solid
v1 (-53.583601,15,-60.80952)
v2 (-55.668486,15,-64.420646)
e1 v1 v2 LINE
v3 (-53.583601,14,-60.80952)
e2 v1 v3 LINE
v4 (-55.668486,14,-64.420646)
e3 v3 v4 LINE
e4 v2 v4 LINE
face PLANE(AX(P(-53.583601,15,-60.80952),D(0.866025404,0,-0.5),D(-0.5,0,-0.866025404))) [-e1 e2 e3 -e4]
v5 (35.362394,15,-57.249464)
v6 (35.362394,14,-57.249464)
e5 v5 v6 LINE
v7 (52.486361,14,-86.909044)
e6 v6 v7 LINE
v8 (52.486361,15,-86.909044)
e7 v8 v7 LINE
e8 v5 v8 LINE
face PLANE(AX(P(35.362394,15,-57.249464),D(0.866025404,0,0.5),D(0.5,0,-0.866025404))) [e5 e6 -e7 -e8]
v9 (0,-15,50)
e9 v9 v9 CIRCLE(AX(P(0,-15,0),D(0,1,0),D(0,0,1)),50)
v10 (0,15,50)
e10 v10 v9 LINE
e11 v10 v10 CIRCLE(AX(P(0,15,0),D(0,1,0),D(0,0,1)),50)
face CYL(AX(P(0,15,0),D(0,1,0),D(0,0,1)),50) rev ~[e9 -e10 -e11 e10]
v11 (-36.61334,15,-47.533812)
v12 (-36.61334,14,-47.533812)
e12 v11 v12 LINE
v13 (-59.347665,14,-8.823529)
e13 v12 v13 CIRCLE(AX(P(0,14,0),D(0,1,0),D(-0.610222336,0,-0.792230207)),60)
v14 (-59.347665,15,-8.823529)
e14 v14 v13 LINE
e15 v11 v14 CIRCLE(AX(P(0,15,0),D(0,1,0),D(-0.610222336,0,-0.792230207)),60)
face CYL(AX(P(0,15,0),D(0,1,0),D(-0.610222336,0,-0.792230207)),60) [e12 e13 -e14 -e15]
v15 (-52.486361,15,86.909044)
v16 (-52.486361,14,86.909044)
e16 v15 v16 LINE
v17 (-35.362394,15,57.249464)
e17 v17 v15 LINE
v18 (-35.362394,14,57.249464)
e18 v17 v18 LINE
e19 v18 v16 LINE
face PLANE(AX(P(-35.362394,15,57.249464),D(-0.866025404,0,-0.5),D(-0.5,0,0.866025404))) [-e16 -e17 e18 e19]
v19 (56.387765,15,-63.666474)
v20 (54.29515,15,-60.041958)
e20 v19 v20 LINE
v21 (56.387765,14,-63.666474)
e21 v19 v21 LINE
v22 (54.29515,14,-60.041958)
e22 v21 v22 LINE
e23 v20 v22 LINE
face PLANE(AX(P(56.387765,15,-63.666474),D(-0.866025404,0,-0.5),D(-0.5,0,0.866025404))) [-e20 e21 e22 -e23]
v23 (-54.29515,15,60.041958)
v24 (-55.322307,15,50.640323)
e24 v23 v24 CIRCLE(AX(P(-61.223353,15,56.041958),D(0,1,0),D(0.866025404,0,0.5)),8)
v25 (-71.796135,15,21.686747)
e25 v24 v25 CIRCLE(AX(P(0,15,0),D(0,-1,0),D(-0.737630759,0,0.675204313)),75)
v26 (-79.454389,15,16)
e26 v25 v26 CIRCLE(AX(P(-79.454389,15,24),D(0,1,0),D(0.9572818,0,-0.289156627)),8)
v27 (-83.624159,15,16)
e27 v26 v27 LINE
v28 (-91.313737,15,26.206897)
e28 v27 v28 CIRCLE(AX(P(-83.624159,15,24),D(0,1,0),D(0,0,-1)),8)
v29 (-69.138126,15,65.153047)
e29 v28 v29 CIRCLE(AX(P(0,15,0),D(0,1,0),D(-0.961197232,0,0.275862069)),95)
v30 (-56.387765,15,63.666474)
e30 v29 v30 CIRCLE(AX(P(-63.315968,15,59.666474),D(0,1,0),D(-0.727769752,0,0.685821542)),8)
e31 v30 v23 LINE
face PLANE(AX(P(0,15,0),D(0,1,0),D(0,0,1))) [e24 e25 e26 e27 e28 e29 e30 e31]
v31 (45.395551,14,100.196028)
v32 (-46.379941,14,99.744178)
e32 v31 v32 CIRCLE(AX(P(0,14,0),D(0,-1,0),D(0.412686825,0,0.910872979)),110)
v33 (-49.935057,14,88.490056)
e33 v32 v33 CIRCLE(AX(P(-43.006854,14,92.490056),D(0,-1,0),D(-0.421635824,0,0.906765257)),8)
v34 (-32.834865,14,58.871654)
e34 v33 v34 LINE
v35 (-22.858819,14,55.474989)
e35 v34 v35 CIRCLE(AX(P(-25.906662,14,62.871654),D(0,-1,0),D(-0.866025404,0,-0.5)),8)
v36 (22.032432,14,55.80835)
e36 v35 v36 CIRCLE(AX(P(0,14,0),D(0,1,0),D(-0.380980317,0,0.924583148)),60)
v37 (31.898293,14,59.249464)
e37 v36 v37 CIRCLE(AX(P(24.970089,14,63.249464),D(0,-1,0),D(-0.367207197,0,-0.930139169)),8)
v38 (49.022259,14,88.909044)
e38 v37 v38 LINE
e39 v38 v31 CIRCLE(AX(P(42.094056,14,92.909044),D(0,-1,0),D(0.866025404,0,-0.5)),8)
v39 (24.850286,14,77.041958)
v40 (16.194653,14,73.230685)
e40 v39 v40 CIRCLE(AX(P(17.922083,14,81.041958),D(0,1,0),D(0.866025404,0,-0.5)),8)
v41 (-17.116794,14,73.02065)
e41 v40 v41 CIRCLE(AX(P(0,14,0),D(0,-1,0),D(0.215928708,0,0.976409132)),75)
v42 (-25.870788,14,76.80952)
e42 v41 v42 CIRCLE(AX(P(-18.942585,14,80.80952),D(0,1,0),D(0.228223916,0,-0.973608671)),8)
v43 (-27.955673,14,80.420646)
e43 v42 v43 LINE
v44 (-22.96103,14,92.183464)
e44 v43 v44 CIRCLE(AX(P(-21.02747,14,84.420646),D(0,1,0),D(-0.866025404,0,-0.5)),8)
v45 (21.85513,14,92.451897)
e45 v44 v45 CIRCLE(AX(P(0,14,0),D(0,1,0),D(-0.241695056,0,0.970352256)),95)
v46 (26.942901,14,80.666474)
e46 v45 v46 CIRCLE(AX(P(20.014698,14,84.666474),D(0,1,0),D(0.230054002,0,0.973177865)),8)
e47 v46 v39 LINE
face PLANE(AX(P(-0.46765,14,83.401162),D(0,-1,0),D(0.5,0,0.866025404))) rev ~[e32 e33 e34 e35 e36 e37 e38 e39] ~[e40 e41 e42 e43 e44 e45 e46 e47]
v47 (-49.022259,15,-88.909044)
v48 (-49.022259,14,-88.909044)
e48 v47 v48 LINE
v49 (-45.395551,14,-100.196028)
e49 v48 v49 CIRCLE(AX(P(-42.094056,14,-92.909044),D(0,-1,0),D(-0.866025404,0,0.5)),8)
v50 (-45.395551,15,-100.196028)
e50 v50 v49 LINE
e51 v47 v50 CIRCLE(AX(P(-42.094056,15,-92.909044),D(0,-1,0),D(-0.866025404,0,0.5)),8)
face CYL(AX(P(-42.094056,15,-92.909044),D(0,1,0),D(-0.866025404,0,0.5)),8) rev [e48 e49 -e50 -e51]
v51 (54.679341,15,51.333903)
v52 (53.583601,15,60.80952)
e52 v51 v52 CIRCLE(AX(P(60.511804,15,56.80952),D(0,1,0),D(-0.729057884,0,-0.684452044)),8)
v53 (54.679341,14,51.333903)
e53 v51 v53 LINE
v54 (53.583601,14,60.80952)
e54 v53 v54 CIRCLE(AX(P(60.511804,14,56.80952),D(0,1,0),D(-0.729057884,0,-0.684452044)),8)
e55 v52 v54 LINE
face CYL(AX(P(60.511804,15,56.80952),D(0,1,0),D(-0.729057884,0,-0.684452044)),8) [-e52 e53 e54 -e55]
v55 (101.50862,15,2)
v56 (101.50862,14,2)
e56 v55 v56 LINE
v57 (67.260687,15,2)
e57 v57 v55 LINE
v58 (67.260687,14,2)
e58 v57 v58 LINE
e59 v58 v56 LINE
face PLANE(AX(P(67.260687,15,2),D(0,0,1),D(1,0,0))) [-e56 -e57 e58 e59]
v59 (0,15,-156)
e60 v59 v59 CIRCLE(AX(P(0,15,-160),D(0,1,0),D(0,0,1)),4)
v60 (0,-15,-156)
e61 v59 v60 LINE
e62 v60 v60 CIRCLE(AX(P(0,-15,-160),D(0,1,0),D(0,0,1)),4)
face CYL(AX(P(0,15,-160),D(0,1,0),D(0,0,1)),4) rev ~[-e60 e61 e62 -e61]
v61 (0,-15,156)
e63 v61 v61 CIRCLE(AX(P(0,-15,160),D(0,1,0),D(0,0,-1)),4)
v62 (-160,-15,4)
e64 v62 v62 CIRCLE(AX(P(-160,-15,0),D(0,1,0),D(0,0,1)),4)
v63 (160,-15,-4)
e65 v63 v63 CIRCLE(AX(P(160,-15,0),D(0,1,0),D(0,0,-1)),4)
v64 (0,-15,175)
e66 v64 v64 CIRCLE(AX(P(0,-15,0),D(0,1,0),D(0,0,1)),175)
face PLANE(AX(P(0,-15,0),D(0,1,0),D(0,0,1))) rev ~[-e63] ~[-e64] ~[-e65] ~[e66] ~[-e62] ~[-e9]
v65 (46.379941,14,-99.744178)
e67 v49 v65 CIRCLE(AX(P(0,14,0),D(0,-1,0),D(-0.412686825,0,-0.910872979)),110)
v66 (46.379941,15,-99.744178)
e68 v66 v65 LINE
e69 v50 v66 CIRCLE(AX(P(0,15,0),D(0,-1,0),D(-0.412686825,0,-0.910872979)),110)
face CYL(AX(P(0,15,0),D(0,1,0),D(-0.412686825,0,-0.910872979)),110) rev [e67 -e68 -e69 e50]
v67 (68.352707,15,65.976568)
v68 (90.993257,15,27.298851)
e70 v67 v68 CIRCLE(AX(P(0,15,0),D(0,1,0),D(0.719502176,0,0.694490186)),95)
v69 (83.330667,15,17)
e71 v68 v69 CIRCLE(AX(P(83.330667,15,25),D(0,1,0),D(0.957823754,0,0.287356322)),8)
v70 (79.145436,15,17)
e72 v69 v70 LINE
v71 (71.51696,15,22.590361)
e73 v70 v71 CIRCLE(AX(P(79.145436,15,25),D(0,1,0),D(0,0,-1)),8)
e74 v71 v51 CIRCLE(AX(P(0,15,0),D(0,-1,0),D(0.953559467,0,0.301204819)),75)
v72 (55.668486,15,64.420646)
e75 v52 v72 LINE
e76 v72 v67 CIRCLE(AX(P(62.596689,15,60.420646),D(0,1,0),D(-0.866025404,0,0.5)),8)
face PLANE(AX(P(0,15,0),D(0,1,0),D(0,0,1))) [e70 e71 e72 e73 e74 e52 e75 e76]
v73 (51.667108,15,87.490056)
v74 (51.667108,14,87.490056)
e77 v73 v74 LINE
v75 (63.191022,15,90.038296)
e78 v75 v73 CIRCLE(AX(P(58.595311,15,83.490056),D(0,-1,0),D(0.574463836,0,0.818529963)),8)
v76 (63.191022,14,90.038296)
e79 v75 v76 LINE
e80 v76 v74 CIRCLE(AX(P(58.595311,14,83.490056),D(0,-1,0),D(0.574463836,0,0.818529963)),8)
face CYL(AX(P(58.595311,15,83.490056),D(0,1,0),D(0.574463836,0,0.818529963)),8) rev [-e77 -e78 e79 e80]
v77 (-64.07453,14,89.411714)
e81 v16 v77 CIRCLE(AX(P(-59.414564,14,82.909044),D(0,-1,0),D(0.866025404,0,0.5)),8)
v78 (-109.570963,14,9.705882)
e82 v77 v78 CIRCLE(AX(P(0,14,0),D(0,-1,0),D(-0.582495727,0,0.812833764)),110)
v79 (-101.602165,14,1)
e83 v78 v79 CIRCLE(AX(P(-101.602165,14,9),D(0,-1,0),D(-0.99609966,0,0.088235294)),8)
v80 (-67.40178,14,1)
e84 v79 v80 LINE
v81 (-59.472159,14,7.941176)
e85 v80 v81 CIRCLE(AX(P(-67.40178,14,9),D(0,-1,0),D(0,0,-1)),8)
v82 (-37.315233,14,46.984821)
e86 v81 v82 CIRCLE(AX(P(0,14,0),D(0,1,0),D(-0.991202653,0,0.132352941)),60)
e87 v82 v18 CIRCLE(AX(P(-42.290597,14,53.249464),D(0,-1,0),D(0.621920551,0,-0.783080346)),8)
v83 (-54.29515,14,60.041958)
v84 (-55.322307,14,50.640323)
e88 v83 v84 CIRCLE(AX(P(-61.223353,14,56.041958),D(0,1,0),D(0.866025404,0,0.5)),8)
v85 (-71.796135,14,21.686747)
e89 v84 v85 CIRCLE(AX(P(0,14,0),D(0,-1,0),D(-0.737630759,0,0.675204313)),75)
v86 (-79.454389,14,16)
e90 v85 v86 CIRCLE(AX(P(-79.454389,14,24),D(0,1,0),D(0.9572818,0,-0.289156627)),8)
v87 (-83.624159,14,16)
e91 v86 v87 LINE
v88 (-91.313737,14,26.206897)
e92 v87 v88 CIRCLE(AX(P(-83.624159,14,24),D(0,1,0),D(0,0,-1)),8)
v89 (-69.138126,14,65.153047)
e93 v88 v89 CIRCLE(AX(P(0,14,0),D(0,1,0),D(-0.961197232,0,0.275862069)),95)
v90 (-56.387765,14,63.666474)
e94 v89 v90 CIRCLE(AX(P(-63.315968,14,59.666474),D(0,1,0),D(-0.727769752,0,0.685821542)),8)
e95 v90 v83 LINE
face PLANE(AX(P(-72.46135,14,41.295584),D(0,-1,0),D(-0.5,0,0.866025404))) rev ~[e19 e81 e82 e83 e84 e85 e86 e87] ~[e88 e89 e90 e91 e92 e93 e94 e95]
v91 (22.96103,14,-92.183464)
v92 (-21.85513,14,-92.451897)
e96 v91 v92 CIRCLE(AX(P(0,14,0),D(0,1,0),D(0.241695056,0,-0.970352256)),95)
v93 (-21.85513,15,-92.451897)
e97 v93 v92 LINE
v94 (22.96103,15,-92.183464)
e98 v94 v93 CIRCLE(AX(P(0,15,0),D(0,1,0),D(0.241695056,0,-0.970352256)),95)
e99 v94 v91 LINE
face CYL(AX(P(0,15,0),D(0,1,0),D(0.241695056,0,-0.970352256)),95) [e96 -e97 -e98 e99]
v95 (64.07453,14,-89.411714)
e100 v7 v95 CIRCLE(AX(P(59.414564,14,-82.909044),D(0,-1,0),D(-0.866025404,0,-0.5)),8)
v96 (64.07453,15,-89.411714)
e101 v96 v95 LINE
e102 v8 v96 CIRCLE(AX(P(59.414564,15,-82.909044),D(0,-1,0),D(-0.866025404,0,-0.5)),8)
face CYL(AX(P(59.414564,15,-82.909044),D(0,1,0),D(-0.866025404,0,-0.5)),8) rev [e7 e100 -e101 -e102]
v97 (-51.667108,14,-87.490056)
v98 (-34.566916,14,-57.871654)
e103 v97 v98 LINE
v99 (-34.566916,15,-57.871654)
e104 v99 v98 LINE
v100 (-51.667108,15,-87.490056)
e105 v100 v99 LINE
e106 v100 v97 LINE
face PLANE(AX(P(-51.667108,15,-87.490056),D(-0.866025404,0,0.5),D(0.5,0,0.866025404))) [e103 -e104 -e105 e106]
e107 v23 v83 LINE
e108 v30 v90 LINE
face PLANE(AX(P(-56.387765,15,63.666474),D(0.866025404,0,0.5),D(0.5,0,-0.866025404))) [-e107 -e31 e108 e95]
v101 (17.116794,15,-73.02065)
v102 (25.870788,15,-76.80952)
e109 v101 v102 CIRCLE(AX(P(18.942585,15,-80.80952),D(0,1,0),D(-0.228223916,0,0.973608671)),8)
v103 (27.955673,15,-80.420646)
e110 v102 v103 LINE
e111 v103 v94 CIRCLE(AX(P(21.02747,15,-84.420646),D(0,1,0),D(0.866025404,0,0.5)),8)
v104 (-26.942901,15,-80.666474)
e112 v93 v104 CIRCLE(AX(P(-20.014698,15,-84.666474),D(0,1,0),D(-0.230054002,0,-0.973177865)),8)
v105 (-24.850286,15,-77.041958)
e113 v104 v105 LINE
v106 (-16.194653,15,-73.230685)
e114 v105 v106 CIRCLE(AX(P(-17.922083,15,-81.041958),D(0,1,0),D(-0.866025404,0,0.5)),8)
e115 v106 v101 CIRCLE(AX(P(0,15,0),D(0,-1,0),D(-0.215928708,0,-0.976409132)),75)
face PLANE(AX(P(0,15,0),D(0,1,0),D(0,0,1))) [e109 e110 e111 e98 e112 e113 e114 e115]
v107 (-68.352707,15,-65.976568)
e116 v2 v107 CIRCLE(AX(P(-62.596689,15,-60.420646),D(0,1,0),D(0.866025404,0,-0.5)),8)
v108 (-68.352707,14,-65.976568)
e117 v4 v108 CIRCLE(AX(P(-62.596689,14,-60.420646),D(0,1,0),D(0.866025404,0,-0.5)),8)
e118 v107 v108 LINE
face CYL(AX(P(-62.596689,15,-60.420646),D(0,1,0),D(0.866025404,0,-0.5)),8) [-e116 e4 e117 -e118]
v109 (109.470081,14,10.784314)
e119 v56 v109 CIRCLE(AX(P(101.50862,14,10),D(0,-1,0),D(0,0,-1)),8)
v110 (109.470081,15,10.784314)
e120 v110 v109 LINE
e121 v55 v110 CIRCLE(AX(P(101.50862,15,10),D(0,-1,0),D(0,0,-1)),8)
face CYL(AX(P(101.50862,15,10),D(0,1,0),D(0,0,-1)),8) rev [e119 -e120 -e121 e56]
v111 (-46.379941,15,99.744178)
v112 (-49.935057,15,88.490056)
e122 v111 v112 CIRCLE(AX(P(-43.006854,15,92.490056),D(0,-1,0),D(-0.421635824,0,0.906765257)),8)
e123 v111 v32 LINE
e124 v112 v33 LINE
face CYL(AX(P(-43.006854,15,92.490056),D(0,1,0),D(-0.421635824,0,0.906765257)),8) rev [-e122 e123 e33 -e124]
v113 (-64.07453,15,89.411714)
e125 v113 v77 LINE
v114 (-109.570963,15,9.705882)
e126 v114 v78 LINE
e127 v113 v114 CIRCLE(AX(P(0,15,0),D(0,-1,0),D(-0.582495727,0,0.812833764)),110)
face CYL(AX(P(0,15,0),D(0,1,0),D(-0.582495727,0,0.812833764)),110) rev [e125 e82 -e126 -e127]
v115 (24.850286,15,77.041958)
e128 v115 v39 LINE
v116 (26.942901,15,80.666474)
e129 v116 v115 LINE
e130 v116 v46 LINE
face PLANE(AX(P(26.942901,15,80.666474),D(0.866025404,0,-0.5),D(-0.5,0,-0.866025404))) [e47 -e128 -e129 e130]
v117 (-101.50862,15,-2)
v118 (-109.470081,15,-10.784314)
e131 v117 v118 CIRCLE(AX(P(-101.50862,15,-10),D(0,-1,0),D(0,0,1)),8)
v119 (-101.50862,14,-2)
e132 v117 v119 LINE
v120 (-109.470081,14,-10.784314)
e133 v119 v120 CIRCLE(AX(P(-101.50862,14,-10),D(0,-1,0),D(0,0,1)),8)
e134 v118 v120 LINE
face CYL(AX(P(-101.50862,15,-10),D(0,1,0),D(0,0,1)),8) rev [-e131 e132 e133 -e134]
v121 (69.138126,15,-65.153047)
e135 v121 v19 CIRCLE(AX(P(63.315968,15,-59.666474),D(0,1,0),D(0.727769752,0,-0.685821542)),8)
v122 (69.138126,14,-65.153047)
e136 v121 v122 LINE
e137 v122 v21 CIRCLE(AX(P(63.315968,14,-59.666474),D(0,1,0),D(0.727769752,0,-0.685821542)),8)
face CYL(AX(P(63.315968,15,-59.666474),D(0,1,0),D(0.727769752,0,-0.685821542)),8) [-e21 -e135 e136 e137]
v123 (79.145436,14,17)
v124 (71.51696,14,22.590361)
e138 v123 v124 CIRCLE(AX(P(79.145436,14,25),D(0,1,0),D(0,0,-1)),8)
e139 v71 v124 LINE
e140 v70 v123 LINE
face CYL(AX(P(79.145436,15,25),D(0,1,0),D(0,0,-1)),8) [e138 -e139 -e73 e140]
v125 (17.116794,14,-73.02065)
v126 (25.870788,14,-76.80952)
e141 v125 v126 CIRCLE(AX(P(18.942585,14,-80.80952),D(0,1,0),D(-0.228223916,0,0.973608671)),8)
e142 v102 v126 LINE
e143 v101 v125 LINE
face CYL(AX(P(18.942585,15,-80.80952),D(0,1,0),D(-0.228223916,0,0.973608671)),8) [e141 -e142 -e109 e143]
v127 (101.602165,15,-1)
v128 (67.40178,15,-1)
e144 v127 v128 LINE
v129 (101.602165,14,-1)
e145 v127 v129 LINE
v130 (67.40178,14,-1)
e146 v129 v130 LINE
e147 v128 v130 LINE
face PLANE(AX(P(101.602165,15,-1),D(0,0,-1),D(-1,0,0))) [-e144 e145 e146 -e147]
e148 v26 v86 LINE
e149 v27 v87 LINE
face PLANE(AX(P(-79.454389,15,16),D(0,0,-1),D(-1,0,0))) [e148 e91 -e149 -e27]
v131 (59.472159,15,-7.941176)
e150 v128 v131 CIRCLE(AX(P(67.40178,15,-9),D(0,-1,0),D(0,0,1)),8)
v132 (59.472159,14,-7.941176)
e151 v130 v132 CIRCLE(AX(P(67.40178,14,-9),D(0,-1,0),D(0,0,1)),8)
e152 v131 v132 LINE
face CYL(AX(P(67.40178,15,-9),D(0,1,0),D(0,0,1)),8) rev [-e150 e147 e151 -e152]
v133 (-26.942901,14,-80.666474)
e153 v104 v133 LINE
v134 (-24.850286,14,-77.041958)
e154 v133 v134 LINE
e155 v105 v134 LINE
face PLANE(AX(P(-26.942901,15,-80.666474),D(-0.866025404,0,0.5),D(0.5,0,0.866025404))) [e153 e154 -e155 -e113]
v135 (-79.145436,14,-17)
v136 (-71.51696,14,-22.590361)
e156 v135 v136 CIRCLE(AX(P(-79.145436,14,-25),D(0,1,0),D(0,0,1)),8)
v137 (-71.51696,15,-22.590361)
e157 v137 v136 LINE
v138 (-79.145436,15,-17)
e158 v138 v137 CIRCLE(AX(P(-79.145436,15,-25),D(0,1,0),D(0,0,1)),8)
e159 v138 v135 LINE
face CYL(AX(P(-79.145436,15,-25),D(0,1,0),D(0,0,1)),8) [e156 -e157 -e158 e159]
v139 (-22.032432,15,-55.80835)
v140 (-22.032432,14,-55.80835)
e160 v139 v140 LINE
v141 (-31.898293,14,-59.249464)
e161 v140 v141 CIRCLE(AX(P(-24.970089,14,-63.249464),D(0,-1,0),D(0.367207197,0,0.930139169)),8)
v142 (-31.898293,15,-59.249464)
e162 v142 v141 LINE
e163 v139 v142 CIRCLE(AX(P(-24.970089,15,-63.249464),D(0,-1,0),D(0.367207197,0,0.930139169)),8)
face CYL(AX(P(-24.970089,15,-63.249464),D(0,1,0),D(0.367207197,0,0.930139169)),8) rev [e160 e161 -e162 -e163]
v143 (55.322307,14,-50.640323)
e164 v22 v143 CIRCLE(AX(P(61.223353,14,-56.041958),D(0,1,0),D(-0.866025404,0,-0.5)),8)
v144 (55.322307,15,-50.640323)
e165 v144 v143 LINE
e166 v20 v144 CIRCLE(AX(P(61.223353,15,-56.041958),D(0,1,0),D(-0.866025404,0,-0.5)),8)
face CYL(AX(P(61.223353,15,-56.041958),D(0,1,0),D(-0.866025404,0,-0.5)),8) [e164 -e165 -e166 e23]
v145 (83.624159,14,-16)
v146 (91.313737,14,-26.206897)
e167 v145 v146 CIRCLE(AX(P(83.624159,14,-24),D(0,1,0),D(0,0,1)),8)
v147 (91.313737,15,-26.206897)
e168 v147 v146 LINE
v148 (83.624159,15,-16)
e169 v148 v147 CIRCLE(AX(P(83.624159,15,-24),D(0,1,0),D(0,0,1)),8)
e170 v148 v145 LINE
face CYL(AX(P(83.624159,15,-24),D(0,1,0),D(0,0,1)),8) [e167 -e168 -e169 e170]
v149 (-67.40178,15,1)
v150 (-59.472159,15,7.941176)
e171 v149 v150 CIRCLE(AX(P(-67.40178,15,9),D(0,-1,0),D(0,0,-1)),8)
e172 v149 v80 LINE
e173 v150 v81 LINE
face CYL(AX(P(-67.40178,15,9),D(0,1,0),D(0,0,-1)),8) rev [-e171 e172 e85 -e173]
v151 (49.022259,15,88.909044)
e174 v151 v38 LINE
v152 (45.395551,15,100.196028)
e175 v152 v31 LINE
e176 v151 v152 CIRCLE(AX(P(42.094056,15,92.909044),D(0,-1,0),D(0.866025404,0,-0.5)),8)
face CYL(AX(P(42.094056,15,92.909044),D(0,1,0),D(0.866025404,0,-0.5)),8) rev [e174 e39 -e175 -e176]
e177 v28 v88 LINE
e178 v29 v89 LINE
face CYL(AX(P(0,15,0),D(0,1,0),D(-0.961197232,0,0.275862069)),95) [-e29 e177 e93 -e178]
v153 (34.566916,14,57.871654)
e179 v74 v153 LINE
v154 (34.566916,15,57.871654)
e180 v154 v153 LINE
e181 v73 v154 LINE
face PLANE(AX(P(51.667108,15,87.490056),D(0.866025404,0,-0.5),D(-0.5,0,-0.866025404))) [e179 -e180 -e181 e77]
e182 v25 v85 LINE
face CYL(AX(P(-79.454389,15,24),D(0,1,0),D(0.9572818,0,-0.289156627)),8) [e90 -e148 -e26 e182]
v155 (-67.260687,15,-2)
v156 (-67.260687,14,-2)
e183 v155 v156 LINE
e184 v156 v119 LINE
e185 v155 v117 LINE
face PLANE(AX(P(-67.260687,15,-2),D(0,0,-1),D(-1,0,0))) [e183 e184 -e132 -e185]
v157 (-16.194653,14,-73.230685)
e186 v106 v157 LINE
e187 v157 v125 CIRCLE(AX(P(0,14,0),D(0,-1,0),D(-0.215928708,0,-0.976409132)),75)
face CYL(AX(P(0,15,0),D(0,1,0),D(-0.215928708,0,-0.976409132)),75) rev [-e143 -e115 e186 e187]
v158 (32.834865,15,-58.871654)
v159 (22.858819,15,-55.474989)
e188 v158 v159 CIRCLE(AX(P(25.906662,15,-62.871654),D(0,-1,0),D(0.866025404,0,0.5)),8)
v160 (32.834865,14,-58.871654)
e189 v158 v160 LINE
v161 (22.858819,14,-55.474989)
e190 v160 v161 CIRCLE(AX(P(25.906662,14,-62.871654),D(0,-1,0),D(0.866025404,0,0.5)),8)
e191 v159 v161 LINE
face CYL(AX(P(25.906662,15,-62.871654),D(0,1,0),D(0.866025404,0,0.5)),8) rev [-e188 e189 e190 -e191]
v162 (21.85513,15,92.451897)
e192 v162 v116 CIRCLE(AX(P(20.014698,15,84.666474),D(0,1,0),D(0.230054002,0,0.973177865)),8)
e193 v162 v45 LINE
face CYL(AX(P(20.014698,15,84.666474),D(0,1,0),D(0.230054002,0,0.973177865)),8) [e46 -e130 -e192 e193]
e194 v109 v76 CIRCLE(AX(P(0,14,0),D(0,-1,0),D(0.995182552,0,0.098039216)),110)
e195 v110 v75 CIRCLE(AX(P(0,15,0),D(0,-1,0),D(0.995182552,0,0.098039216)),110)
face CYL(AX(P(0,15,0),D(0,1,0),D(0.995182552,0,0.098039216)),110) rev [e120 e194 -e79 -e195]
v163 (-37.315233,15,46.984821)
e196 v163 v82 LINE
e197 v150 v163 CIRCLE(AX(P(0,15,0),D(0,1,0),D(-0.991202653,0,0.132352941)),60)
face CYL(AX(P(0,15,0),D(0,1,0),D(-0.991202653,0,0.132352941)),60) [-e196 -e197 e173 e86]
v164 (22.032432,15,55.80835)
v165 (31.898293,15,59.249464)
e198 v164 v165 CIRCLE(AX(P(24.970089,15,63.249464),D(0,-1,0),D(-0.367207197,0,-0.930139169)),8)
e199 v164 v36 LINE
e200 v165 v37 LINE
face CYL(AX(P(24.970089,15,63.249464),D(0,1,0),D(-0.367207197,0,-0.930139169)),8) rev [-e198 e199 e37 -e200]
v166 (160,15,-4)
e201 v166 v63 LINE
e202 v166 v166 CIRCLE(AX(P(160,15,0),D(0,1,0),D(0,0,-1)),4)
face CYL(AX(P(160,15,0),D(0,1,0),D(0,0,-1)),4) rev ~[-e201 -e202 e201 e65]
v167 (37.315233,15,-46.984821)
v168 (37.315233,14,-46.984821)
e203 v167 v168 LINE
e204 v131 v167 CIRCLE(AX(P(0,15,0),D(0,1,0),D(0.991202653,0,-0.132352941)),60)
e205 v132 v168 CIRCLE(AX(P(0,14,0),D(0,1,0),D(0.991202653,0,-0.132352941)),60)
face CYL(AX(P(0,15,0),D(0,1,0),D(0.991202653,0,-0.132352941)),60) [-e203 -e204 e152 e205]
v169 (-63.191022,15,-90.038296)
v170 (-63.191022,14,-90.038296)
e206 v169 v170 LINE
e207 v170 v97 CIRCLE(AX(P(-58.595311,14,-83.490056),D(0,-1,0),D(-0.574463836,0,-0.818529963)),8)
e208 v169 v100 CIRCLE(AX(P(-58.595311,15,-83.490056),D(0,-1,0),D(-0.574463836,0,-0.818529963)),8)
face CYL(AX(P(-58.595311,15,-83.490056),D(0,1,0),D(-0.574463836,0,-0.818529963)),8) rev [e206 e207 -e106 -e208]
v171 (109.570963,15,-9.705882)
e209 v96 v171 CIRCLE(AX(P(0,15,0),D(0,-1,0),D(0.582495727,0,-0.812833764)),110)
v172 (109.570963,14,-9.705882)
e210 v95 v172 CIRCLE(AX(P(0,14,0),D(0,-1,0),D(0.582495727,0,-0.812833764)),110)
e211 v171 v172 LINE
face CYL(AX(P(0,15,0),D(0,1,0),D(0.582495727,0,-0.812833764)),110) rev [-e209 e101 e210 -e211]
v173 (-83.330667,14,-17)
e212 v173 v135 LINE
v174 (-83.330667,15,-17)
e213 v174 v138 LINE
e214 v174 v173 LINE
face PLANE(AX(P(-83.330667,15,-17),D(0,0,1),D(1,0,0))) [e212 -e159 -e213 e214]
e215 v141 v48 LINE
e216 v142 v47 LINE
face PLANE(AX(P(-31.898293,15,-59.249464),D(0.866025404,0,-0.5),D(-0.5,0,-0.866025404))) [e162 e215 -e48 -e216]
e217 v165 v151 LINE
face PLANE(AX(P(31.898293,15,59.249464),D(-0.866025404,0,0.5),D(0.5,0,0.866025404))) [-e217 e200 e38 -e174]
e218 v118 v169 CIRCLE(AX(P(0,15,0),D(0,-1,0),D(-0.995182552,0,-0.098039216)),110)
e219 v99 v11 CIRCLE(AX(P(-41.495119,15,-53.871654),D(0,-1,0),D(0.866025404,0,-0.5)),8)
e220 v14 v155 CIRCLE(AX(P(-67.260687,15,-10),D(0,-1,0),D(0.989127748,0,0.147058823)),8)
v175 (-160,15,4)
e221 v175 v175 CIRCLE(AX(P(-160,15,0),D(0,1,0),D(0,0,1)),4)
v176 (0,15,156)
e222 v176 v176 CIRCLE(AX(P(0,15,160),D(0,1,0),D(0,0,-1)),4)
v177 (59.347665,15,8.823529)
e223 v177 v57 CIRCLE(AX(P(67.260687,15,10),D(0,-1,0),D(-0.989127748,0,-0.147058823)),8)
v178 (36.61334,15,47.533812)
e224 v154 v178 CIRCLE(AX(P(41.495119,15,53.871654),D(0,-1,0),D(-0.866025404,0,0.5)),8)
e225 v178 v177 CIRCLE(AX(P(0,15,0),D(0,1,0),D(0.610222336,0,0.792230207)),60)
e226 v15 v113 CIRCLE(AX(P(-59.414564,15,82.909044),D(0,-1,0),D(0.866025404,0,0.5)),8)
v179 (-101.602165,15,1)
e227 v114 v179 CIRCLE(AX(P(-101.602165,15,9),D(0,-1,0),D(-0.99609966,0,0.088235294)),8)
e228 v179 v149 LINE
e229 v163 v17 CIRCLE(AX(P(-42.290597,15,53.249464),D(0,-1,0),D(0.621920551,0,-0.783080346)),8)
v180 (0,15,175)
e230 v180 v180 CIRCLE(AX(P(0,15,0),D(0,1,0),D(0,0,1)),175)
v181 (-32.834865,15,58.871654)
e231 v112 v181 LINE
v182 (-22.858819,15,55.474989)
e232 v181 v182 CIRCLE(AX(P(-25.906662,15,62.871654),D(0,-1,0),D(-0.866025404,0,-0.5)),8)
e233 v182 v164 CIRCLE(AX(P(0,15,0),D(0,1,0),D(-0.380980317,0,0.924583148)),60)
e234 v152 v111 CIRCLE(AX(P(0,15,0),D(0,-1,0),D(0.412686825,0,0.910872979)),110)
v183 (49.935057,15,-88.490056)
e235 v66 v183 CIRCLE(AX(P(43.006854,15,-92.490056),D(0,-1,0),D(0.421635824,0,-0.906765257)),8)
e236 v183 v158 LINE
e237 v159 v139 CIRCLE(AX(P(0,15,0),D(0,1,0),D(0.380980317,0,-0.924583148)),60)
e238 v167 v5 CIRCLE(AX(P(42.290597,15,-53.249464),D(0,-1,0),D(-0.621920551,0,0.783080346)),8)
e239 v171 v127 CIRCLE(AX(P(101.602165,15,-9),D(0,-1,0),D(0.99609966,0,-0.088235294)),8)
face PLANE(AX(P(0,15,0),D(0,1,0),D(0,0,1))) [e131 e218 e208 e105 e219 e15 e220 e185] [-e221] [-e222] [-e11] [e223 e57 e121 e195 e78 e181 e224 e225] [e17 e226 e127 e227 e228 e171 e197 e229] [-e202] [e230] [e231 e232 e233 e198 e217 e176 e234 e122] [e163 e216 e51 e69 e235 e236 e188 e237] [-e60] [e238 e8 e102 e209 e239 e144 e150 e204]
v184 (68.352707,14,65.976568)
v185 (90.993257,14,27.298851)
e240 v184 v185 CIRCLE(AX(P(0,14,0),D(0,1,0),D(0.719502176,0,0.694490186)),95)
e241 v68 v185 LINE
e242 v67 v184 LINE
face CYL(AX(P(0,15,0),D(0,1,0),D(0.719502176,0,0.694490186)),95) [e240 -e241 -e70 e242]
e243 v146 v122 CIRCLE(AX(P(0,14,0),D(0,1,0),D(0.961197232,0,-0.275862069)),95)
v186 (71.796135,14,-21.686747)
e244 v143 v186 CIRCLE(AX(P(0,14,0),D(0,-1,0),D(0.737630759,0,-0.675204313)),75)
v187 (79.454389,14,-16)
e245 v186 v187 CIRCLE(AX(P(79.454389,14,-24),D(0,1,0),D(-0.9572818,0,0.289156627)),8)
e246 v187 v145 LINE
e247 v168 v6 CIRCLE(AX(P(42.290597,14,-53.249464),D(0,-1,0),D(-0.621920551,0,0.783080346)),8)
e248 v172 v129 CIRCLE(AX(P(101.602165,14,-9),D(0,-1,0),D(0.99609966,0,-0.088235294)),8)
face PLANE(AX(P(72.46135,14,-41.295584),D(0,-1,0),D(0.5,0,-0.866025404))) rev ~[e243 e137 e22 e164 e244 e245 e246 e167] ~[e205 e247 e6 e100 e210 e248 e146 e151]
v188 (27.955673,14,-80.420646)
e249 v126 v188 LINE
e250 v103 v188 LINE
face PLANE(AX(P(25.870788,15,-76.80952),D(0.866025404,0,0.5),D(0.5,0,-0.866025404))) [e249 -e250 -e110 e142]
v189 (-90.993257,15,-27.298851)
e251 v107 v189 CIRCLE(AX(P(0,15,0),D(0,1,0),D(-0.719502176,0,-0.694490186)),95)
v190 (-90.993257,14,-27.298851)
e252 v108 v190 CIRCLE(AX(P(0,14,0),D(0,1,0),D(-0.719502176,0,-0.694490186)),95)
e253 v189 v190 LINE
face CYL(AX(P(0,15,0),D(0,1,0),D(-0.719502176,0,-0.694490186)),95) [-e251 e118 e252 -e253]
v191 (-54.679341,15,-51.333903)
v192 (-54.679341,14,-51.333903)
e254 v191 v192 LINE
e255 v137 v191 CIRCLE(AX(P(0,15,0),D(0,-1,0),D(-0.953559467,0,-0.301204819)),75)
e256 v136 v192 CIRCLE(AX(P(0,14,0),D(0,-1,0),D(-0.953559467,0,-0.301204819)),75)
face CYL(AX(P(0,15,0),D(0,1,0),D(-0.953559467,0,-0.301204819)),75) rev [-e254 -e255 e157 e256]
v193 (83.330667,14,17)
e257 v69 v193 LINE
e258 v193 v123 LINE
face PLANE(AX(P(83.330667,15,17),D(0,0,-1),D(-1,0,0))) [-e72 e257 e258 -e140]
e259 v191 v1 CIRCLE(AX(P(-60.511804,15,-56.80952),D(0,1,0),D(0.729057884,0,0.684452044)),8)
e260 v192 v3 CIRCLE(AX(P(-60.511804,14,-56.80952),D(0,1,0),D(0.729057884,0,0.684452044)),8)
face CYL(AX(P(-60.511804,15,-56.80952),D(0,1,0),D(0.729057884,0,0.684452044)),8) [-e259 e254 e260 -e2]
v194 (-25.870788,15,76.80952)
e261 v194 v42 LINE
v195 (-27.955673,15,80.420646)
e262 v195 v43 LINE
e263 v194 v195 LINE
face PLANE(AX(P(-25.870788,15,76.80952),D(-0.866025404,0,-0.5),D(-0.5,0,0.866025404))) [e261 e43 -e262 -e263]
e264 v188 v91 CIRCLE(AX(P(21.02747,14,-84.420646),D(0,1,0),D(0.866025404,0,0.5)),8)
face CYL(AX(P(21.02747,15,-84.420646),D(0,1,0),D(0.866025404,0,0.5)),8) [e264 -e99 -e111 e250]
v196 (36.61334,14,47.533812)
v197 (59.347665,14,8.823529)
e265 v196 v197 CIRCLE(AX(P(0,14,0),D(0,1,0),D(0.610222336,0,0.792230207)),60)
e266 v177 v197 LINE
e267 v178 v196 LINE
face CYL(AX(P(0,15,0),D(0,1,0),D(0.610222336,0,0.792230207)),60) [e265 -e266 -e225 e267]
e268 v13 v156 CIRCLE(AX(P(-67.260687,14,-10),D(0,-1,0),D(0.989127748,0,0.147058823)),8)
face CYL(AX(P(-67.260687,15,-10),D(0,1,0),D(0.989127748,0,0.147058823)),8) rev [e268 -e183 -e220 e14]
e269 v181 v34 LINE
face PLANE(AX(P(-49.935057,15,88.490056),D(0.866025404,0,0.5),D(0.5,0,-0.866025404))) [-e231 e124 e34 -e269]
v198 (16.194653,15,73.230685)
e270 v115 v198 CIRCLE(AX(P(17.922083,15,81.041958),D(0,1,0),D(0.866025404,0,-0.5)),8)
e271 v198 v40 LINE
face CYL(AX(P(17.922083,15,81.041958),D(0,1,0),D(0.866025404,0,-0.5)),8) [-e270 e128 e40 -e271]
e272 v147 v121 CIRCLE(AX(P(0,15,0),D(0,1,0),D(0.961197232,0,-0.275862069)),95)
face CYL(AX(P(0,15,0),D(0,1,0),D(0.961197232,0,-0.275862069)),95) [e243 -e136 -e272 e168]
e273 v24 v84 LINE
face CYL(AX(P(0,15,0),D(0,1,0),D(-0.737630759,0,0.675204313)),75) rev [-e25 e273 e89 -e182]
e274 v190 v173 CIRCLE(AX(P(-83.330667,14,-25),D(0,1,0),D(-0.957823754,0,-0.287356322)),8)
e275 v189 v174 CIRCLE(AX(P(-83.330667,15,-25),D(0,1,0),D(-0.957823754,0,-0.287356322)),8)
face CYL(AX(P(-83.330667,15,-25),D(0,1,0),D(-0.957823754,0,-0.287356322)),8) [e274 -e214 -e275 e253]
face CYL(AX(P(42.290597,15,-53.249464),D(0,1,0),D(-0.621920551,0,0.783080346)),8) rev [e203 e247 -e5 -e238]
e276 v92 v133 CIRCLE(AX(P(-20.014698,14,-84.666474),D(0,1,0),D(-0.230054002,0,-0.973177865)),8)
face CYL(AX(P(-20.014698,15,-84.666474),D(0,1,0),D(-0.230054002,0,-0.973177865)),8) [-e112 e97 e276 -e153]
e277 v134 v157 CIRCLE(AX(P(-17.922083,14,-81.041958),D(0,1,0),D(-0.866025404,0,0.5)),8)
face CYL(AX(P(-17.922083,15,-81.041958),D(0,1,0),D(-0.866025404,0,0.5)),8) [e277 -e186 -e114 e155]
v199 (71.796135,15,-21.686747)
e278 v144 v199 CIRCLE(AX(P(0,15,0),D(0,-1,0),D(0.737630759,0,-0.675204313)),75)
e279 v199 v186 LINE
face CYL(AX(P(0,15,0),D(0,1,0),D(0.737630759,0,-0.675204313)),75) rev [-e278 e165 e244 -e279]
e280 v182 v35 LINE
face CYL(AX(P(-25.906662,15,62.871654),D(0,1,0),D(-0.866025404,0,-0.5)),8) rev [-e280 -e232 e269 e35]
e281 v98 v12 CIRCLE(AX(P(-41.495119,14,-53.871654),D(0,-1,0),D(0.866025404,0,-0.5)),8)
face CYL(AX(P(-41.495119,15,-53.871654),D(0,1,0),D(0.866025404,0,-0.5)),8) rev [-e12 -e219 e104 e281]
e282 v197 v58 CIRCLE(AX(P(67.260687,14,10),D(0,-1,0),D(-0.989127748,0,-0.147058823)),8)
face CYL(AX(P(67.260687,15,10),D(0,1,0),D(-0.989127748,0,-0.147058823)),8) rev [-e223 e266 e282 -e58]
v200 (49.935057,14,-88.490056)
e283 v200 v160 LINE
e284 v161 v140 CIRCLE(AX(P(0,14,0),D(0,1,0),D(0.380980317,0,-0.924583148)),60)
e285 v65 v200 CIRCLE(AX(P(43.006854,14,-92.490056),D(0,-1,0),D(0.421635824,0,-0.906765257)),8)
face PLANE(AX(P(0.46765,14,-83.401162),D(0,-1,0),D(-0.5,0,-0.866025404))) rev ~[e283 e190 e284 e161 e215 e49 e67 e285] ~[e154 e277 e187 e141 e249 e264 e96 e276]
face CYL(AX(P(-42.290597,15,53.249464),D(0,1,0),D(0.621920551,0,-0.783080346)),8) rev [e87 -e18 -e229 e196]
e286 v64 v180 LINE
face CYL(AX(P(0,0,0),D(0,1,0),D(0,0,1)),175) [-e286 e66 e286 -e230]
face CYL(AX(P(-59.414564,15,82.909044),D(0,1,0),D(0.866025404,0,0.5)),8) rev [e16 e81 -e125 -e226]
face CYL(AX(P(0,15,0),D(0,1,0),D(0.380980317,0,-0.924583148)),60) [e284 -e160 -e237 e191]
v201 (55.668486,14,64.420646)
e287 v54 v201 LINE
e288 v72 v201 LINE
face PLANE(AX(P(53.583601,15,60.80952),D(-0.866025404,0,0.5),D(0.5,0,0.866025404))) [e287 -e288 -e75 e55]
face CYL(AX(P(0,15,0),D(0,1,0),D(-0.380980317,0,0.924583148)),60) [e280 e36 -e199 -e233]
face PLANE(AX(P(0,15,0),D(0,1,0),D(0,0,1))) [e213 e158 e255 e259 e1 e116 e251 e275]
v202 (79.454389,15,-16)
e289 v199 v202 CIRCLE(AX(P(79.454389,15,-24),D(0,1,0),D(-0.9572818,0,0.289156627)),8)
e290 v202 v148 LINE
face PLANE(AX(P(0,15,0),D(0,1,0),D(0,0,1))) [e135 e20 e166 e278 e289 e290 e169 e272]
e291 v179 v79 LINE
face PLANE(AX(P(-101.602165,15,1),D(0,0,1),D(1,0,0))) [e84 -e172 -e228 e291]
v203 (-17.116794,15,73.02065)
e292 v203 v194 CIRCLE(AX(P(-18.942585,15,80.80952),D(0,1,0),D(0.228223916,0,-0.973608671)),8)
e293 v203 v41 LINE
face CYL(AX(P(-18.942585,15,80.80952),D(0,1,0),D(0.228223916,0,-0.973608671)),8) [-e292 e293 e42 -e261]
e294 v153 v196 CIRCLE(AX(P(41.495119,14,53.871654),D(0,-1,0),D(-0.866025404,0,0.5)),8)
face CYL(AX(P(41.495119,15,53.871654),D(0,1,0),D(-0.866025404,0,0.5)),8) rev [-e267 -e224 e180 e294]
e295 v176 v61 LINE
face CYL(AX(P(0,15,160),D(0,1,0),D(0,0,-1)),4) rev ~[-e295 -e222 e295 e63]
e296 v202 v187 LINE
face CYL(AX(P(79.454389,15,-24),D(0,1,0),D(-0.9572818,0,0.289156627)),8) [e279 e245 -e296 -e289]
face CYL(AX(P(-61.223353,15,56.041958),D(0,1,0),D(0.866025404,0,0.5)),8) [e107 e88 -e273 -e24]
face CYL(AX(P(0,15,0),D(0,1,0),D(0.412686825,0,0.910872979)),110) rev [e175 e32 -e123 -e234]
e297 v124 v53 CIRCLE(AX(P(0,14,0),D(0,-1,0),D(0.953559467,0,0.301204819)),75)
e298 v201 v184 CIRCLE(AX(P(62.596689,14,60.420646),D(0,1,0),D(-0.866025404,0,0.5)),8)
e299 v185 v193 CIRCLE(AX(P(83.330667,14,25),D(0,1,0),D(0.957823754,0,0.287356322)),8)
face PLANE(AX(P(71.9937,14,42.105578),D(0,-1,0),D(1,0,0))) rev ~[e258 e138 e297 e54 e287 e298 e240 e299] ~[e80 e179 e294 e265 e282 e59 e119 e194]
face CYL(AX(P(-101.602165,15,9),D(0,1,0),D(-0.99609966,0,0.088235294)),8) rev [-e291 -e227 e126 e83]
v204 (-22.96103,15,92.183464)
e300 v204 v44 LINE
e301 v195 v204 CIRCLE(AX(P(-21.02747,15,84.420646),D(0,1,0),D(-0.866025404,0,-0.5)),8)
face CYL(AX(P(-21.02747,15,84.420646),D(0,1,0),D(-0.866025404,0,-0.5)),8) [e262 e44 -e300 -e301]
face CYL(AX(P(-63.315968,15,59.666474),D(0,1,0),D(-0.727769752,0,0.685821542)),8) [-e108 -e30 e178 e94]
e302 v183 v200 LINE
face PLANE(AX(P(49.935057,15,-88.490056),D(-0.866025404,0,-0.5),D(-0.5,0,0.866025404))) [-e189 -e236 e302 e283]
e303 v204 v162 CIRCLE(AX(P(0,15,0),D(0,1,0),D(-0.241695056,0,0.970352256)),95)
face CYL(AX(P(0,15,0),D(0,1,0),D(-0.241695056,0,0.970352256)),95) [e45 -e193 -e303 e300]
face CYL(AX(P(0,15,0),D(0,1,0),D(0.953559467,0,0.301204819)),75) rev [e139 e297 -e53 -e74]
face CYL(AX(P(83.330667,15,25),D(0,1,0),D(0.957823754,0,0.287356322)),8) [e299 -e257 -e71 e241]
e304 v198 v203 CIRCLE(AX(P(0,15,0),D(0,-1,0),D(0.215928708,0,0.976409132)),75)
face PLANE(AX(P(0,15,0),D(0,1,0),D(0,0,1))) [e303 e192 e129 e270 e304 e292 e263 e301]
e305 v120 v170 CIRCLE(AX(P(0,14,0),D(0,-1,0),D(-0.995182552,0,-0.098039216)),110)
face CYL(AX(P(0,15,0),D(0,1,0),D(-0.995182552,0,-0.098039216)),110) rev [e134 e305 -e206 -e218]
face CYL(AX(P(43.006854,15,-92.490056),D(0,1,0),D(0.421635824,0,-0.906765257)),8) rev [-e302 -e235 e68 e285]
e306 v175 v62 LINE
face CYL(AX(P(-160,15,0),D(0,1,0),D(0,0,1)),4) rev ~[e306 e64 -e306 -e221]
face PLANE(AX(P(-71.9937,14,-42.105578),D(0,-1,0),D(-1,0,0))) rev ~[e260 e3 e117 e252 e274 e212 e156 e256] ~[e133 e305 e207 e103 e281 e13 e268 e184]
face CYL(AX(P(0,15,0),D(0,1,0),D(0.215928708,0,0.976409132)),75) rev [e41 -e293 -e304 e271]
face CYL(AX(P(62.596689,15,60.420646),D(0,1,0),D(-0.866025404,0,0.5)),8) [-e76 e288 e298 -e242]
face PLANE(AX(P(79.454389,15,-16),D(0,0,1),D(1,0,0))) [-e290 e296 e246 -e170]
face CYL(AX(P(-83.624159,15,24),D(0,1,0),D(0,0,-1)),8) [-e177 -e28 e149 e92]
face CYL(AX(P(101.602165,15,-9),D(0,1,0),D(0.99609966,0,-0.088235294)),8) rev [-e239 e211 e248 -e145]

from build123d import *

# Parameters (mm, degrees)
SKETCH2_R           = 175
BOSS_EXTRUDE1_DEPTH = 15
SKETCH3_R           = 4
SKETCH3_R_2         = 50
CUT_EXTRUDE1_DEPTH  = 30
CUT_EXTRUDE3_DEPTH  = 1
CIRPATTERN2_COUNT   = 6


with BuildPart() as part:
    # Sketch2 → Boss-Extrude1 (new, symmetric)
    with BuildSketch(Plane(origin=(0, 0, 0), x_dir=(1, 0, 0), z_dir=(0, 1, 0))):
        with Locations(Location((0, 0, 0), (0, 0, 270))):
            Circle(SKETCH2_R)
    extrude(amount=BOSS_EXTRUDE1_DEPTH, both=True)

    # Sketch3 → Cut-Extrude1 (cut)
    with BuildSketch(Plane(origin=(0, 15, 0), x_dir=(1, 0, 0), z_dir=(0, 1, 0))):
        with Locations(Location((0, 160, 0), (0, 0, 270))):
            Circle(SKETCH3_R)
        with Locations(Location((0, -160, 0), (0, 0, 90))):
            Circle(SKETCH3_R)
        with Locations(Location((-160, 0, 0), (0, 0, 270))):
            Circle(SKETCH3_R)
        with Locations(Location((160, 0, 0), (0, 0, 90))):
            Circle(SKETCH3_R)
        with Locations(Location((0, 0, 0), (0, 0, 270))):
            Circle(SKETCH3_R_2)
    extrude(amount=-CUT_EXTRUDE1_DEPTH, mode=Mode.SUBTRACT)

    # Sketch4 → Cut-Extrude3 (cut)
    with BuildSketch(Plane(origin=(0, 15, 0), x_dir=(1, 0, 0), z_dir=(0, 1, 0))):
        with BuildLine():
            ThreePointArc((-36.613340144, 47.533812423), (-51.737318493, 30.385027154), (-59.347664897, 8.823529412))
            ThreePointArc((-59.347664897, 8.823529412), (-62.036309634, 3.941462028), (-67.260686883, 2))
            Line((-67.260686883, 2), (-101.508620324, 2))
            ThreePointArc((-101.508620324, 2), (-107.436288913, 4.627594105), (-109.470080741, 10.784313725))
            ThreePointArc((-109.470080741, 10.784313725), (-94.99085495, 55.468346611), (-63.19102199, 90.038295963))
            ThreePointArc((-63.19102199, 90.038295963), (-56.868026794, 91.301361412), (-51.667108069, 87.490056256))
            Line((-51.667108069, 87.490056256), (-34.5669156, 57.87165408))
            ThreePointArc((-34.5669156, 57.87165408), (-33.647401917, 52.31816148), (-36.613340144, 47.533812423))
        make_face()
        with BuildLine():
            ThreePointArc((-55.668486055, 64.420646227), (-61.622662682, 68.361129347), (-68.352706691, 65.97656772))
            ThreePointArc((-68.352706691, 65.97656772), (-81.986434608, 47.991921614), (-90.993256658, 27.298850575))
            ThreePointArc((-90.993256658, 27.298850575), (-89.749031081, 20.224584028), (-83.330666624, 17))
            Line((-83.330666624, 17), (-79.14543575, 17))
            ThreePointArc((-79.14543575, 17), (-74.41664671, 18.547205705), (-71.516960015, 22.590361446))
            ThreePointArc((-71.516960015, 22.590361446), (-64.714174788, 37.908779742), (-54.679341331, 51.333903335))
            ThreePointArc((-54.679341331, 51.333903335), (-52.564762349, 55.890540621), (-53.583601177, 60.80951969))
            Line((-53.583601177, 60.80951969), (-55.668486055, 64.420646227))
        make_face(mode=Mode.SUBTRACT)
    cut_extrude3 = extrude(amount=-CUT_EXTRUDE3_DEPTH, mode=Mode.SUBTRACT)

    # CirPattern2: Cut-Extrude3 ×6 about axis
    cirpattern2_axis = Axis((0, 0, 0), (0, 1, 0))
    for i in range(1, CIRPATTERN2_COUNT):
        add(cut_extrude3.rotate(cirpattern2_axis, i * 360 / CIRPATTERN2_COUNT), mode=Mode.SUBTRACT)


solid = part.part
